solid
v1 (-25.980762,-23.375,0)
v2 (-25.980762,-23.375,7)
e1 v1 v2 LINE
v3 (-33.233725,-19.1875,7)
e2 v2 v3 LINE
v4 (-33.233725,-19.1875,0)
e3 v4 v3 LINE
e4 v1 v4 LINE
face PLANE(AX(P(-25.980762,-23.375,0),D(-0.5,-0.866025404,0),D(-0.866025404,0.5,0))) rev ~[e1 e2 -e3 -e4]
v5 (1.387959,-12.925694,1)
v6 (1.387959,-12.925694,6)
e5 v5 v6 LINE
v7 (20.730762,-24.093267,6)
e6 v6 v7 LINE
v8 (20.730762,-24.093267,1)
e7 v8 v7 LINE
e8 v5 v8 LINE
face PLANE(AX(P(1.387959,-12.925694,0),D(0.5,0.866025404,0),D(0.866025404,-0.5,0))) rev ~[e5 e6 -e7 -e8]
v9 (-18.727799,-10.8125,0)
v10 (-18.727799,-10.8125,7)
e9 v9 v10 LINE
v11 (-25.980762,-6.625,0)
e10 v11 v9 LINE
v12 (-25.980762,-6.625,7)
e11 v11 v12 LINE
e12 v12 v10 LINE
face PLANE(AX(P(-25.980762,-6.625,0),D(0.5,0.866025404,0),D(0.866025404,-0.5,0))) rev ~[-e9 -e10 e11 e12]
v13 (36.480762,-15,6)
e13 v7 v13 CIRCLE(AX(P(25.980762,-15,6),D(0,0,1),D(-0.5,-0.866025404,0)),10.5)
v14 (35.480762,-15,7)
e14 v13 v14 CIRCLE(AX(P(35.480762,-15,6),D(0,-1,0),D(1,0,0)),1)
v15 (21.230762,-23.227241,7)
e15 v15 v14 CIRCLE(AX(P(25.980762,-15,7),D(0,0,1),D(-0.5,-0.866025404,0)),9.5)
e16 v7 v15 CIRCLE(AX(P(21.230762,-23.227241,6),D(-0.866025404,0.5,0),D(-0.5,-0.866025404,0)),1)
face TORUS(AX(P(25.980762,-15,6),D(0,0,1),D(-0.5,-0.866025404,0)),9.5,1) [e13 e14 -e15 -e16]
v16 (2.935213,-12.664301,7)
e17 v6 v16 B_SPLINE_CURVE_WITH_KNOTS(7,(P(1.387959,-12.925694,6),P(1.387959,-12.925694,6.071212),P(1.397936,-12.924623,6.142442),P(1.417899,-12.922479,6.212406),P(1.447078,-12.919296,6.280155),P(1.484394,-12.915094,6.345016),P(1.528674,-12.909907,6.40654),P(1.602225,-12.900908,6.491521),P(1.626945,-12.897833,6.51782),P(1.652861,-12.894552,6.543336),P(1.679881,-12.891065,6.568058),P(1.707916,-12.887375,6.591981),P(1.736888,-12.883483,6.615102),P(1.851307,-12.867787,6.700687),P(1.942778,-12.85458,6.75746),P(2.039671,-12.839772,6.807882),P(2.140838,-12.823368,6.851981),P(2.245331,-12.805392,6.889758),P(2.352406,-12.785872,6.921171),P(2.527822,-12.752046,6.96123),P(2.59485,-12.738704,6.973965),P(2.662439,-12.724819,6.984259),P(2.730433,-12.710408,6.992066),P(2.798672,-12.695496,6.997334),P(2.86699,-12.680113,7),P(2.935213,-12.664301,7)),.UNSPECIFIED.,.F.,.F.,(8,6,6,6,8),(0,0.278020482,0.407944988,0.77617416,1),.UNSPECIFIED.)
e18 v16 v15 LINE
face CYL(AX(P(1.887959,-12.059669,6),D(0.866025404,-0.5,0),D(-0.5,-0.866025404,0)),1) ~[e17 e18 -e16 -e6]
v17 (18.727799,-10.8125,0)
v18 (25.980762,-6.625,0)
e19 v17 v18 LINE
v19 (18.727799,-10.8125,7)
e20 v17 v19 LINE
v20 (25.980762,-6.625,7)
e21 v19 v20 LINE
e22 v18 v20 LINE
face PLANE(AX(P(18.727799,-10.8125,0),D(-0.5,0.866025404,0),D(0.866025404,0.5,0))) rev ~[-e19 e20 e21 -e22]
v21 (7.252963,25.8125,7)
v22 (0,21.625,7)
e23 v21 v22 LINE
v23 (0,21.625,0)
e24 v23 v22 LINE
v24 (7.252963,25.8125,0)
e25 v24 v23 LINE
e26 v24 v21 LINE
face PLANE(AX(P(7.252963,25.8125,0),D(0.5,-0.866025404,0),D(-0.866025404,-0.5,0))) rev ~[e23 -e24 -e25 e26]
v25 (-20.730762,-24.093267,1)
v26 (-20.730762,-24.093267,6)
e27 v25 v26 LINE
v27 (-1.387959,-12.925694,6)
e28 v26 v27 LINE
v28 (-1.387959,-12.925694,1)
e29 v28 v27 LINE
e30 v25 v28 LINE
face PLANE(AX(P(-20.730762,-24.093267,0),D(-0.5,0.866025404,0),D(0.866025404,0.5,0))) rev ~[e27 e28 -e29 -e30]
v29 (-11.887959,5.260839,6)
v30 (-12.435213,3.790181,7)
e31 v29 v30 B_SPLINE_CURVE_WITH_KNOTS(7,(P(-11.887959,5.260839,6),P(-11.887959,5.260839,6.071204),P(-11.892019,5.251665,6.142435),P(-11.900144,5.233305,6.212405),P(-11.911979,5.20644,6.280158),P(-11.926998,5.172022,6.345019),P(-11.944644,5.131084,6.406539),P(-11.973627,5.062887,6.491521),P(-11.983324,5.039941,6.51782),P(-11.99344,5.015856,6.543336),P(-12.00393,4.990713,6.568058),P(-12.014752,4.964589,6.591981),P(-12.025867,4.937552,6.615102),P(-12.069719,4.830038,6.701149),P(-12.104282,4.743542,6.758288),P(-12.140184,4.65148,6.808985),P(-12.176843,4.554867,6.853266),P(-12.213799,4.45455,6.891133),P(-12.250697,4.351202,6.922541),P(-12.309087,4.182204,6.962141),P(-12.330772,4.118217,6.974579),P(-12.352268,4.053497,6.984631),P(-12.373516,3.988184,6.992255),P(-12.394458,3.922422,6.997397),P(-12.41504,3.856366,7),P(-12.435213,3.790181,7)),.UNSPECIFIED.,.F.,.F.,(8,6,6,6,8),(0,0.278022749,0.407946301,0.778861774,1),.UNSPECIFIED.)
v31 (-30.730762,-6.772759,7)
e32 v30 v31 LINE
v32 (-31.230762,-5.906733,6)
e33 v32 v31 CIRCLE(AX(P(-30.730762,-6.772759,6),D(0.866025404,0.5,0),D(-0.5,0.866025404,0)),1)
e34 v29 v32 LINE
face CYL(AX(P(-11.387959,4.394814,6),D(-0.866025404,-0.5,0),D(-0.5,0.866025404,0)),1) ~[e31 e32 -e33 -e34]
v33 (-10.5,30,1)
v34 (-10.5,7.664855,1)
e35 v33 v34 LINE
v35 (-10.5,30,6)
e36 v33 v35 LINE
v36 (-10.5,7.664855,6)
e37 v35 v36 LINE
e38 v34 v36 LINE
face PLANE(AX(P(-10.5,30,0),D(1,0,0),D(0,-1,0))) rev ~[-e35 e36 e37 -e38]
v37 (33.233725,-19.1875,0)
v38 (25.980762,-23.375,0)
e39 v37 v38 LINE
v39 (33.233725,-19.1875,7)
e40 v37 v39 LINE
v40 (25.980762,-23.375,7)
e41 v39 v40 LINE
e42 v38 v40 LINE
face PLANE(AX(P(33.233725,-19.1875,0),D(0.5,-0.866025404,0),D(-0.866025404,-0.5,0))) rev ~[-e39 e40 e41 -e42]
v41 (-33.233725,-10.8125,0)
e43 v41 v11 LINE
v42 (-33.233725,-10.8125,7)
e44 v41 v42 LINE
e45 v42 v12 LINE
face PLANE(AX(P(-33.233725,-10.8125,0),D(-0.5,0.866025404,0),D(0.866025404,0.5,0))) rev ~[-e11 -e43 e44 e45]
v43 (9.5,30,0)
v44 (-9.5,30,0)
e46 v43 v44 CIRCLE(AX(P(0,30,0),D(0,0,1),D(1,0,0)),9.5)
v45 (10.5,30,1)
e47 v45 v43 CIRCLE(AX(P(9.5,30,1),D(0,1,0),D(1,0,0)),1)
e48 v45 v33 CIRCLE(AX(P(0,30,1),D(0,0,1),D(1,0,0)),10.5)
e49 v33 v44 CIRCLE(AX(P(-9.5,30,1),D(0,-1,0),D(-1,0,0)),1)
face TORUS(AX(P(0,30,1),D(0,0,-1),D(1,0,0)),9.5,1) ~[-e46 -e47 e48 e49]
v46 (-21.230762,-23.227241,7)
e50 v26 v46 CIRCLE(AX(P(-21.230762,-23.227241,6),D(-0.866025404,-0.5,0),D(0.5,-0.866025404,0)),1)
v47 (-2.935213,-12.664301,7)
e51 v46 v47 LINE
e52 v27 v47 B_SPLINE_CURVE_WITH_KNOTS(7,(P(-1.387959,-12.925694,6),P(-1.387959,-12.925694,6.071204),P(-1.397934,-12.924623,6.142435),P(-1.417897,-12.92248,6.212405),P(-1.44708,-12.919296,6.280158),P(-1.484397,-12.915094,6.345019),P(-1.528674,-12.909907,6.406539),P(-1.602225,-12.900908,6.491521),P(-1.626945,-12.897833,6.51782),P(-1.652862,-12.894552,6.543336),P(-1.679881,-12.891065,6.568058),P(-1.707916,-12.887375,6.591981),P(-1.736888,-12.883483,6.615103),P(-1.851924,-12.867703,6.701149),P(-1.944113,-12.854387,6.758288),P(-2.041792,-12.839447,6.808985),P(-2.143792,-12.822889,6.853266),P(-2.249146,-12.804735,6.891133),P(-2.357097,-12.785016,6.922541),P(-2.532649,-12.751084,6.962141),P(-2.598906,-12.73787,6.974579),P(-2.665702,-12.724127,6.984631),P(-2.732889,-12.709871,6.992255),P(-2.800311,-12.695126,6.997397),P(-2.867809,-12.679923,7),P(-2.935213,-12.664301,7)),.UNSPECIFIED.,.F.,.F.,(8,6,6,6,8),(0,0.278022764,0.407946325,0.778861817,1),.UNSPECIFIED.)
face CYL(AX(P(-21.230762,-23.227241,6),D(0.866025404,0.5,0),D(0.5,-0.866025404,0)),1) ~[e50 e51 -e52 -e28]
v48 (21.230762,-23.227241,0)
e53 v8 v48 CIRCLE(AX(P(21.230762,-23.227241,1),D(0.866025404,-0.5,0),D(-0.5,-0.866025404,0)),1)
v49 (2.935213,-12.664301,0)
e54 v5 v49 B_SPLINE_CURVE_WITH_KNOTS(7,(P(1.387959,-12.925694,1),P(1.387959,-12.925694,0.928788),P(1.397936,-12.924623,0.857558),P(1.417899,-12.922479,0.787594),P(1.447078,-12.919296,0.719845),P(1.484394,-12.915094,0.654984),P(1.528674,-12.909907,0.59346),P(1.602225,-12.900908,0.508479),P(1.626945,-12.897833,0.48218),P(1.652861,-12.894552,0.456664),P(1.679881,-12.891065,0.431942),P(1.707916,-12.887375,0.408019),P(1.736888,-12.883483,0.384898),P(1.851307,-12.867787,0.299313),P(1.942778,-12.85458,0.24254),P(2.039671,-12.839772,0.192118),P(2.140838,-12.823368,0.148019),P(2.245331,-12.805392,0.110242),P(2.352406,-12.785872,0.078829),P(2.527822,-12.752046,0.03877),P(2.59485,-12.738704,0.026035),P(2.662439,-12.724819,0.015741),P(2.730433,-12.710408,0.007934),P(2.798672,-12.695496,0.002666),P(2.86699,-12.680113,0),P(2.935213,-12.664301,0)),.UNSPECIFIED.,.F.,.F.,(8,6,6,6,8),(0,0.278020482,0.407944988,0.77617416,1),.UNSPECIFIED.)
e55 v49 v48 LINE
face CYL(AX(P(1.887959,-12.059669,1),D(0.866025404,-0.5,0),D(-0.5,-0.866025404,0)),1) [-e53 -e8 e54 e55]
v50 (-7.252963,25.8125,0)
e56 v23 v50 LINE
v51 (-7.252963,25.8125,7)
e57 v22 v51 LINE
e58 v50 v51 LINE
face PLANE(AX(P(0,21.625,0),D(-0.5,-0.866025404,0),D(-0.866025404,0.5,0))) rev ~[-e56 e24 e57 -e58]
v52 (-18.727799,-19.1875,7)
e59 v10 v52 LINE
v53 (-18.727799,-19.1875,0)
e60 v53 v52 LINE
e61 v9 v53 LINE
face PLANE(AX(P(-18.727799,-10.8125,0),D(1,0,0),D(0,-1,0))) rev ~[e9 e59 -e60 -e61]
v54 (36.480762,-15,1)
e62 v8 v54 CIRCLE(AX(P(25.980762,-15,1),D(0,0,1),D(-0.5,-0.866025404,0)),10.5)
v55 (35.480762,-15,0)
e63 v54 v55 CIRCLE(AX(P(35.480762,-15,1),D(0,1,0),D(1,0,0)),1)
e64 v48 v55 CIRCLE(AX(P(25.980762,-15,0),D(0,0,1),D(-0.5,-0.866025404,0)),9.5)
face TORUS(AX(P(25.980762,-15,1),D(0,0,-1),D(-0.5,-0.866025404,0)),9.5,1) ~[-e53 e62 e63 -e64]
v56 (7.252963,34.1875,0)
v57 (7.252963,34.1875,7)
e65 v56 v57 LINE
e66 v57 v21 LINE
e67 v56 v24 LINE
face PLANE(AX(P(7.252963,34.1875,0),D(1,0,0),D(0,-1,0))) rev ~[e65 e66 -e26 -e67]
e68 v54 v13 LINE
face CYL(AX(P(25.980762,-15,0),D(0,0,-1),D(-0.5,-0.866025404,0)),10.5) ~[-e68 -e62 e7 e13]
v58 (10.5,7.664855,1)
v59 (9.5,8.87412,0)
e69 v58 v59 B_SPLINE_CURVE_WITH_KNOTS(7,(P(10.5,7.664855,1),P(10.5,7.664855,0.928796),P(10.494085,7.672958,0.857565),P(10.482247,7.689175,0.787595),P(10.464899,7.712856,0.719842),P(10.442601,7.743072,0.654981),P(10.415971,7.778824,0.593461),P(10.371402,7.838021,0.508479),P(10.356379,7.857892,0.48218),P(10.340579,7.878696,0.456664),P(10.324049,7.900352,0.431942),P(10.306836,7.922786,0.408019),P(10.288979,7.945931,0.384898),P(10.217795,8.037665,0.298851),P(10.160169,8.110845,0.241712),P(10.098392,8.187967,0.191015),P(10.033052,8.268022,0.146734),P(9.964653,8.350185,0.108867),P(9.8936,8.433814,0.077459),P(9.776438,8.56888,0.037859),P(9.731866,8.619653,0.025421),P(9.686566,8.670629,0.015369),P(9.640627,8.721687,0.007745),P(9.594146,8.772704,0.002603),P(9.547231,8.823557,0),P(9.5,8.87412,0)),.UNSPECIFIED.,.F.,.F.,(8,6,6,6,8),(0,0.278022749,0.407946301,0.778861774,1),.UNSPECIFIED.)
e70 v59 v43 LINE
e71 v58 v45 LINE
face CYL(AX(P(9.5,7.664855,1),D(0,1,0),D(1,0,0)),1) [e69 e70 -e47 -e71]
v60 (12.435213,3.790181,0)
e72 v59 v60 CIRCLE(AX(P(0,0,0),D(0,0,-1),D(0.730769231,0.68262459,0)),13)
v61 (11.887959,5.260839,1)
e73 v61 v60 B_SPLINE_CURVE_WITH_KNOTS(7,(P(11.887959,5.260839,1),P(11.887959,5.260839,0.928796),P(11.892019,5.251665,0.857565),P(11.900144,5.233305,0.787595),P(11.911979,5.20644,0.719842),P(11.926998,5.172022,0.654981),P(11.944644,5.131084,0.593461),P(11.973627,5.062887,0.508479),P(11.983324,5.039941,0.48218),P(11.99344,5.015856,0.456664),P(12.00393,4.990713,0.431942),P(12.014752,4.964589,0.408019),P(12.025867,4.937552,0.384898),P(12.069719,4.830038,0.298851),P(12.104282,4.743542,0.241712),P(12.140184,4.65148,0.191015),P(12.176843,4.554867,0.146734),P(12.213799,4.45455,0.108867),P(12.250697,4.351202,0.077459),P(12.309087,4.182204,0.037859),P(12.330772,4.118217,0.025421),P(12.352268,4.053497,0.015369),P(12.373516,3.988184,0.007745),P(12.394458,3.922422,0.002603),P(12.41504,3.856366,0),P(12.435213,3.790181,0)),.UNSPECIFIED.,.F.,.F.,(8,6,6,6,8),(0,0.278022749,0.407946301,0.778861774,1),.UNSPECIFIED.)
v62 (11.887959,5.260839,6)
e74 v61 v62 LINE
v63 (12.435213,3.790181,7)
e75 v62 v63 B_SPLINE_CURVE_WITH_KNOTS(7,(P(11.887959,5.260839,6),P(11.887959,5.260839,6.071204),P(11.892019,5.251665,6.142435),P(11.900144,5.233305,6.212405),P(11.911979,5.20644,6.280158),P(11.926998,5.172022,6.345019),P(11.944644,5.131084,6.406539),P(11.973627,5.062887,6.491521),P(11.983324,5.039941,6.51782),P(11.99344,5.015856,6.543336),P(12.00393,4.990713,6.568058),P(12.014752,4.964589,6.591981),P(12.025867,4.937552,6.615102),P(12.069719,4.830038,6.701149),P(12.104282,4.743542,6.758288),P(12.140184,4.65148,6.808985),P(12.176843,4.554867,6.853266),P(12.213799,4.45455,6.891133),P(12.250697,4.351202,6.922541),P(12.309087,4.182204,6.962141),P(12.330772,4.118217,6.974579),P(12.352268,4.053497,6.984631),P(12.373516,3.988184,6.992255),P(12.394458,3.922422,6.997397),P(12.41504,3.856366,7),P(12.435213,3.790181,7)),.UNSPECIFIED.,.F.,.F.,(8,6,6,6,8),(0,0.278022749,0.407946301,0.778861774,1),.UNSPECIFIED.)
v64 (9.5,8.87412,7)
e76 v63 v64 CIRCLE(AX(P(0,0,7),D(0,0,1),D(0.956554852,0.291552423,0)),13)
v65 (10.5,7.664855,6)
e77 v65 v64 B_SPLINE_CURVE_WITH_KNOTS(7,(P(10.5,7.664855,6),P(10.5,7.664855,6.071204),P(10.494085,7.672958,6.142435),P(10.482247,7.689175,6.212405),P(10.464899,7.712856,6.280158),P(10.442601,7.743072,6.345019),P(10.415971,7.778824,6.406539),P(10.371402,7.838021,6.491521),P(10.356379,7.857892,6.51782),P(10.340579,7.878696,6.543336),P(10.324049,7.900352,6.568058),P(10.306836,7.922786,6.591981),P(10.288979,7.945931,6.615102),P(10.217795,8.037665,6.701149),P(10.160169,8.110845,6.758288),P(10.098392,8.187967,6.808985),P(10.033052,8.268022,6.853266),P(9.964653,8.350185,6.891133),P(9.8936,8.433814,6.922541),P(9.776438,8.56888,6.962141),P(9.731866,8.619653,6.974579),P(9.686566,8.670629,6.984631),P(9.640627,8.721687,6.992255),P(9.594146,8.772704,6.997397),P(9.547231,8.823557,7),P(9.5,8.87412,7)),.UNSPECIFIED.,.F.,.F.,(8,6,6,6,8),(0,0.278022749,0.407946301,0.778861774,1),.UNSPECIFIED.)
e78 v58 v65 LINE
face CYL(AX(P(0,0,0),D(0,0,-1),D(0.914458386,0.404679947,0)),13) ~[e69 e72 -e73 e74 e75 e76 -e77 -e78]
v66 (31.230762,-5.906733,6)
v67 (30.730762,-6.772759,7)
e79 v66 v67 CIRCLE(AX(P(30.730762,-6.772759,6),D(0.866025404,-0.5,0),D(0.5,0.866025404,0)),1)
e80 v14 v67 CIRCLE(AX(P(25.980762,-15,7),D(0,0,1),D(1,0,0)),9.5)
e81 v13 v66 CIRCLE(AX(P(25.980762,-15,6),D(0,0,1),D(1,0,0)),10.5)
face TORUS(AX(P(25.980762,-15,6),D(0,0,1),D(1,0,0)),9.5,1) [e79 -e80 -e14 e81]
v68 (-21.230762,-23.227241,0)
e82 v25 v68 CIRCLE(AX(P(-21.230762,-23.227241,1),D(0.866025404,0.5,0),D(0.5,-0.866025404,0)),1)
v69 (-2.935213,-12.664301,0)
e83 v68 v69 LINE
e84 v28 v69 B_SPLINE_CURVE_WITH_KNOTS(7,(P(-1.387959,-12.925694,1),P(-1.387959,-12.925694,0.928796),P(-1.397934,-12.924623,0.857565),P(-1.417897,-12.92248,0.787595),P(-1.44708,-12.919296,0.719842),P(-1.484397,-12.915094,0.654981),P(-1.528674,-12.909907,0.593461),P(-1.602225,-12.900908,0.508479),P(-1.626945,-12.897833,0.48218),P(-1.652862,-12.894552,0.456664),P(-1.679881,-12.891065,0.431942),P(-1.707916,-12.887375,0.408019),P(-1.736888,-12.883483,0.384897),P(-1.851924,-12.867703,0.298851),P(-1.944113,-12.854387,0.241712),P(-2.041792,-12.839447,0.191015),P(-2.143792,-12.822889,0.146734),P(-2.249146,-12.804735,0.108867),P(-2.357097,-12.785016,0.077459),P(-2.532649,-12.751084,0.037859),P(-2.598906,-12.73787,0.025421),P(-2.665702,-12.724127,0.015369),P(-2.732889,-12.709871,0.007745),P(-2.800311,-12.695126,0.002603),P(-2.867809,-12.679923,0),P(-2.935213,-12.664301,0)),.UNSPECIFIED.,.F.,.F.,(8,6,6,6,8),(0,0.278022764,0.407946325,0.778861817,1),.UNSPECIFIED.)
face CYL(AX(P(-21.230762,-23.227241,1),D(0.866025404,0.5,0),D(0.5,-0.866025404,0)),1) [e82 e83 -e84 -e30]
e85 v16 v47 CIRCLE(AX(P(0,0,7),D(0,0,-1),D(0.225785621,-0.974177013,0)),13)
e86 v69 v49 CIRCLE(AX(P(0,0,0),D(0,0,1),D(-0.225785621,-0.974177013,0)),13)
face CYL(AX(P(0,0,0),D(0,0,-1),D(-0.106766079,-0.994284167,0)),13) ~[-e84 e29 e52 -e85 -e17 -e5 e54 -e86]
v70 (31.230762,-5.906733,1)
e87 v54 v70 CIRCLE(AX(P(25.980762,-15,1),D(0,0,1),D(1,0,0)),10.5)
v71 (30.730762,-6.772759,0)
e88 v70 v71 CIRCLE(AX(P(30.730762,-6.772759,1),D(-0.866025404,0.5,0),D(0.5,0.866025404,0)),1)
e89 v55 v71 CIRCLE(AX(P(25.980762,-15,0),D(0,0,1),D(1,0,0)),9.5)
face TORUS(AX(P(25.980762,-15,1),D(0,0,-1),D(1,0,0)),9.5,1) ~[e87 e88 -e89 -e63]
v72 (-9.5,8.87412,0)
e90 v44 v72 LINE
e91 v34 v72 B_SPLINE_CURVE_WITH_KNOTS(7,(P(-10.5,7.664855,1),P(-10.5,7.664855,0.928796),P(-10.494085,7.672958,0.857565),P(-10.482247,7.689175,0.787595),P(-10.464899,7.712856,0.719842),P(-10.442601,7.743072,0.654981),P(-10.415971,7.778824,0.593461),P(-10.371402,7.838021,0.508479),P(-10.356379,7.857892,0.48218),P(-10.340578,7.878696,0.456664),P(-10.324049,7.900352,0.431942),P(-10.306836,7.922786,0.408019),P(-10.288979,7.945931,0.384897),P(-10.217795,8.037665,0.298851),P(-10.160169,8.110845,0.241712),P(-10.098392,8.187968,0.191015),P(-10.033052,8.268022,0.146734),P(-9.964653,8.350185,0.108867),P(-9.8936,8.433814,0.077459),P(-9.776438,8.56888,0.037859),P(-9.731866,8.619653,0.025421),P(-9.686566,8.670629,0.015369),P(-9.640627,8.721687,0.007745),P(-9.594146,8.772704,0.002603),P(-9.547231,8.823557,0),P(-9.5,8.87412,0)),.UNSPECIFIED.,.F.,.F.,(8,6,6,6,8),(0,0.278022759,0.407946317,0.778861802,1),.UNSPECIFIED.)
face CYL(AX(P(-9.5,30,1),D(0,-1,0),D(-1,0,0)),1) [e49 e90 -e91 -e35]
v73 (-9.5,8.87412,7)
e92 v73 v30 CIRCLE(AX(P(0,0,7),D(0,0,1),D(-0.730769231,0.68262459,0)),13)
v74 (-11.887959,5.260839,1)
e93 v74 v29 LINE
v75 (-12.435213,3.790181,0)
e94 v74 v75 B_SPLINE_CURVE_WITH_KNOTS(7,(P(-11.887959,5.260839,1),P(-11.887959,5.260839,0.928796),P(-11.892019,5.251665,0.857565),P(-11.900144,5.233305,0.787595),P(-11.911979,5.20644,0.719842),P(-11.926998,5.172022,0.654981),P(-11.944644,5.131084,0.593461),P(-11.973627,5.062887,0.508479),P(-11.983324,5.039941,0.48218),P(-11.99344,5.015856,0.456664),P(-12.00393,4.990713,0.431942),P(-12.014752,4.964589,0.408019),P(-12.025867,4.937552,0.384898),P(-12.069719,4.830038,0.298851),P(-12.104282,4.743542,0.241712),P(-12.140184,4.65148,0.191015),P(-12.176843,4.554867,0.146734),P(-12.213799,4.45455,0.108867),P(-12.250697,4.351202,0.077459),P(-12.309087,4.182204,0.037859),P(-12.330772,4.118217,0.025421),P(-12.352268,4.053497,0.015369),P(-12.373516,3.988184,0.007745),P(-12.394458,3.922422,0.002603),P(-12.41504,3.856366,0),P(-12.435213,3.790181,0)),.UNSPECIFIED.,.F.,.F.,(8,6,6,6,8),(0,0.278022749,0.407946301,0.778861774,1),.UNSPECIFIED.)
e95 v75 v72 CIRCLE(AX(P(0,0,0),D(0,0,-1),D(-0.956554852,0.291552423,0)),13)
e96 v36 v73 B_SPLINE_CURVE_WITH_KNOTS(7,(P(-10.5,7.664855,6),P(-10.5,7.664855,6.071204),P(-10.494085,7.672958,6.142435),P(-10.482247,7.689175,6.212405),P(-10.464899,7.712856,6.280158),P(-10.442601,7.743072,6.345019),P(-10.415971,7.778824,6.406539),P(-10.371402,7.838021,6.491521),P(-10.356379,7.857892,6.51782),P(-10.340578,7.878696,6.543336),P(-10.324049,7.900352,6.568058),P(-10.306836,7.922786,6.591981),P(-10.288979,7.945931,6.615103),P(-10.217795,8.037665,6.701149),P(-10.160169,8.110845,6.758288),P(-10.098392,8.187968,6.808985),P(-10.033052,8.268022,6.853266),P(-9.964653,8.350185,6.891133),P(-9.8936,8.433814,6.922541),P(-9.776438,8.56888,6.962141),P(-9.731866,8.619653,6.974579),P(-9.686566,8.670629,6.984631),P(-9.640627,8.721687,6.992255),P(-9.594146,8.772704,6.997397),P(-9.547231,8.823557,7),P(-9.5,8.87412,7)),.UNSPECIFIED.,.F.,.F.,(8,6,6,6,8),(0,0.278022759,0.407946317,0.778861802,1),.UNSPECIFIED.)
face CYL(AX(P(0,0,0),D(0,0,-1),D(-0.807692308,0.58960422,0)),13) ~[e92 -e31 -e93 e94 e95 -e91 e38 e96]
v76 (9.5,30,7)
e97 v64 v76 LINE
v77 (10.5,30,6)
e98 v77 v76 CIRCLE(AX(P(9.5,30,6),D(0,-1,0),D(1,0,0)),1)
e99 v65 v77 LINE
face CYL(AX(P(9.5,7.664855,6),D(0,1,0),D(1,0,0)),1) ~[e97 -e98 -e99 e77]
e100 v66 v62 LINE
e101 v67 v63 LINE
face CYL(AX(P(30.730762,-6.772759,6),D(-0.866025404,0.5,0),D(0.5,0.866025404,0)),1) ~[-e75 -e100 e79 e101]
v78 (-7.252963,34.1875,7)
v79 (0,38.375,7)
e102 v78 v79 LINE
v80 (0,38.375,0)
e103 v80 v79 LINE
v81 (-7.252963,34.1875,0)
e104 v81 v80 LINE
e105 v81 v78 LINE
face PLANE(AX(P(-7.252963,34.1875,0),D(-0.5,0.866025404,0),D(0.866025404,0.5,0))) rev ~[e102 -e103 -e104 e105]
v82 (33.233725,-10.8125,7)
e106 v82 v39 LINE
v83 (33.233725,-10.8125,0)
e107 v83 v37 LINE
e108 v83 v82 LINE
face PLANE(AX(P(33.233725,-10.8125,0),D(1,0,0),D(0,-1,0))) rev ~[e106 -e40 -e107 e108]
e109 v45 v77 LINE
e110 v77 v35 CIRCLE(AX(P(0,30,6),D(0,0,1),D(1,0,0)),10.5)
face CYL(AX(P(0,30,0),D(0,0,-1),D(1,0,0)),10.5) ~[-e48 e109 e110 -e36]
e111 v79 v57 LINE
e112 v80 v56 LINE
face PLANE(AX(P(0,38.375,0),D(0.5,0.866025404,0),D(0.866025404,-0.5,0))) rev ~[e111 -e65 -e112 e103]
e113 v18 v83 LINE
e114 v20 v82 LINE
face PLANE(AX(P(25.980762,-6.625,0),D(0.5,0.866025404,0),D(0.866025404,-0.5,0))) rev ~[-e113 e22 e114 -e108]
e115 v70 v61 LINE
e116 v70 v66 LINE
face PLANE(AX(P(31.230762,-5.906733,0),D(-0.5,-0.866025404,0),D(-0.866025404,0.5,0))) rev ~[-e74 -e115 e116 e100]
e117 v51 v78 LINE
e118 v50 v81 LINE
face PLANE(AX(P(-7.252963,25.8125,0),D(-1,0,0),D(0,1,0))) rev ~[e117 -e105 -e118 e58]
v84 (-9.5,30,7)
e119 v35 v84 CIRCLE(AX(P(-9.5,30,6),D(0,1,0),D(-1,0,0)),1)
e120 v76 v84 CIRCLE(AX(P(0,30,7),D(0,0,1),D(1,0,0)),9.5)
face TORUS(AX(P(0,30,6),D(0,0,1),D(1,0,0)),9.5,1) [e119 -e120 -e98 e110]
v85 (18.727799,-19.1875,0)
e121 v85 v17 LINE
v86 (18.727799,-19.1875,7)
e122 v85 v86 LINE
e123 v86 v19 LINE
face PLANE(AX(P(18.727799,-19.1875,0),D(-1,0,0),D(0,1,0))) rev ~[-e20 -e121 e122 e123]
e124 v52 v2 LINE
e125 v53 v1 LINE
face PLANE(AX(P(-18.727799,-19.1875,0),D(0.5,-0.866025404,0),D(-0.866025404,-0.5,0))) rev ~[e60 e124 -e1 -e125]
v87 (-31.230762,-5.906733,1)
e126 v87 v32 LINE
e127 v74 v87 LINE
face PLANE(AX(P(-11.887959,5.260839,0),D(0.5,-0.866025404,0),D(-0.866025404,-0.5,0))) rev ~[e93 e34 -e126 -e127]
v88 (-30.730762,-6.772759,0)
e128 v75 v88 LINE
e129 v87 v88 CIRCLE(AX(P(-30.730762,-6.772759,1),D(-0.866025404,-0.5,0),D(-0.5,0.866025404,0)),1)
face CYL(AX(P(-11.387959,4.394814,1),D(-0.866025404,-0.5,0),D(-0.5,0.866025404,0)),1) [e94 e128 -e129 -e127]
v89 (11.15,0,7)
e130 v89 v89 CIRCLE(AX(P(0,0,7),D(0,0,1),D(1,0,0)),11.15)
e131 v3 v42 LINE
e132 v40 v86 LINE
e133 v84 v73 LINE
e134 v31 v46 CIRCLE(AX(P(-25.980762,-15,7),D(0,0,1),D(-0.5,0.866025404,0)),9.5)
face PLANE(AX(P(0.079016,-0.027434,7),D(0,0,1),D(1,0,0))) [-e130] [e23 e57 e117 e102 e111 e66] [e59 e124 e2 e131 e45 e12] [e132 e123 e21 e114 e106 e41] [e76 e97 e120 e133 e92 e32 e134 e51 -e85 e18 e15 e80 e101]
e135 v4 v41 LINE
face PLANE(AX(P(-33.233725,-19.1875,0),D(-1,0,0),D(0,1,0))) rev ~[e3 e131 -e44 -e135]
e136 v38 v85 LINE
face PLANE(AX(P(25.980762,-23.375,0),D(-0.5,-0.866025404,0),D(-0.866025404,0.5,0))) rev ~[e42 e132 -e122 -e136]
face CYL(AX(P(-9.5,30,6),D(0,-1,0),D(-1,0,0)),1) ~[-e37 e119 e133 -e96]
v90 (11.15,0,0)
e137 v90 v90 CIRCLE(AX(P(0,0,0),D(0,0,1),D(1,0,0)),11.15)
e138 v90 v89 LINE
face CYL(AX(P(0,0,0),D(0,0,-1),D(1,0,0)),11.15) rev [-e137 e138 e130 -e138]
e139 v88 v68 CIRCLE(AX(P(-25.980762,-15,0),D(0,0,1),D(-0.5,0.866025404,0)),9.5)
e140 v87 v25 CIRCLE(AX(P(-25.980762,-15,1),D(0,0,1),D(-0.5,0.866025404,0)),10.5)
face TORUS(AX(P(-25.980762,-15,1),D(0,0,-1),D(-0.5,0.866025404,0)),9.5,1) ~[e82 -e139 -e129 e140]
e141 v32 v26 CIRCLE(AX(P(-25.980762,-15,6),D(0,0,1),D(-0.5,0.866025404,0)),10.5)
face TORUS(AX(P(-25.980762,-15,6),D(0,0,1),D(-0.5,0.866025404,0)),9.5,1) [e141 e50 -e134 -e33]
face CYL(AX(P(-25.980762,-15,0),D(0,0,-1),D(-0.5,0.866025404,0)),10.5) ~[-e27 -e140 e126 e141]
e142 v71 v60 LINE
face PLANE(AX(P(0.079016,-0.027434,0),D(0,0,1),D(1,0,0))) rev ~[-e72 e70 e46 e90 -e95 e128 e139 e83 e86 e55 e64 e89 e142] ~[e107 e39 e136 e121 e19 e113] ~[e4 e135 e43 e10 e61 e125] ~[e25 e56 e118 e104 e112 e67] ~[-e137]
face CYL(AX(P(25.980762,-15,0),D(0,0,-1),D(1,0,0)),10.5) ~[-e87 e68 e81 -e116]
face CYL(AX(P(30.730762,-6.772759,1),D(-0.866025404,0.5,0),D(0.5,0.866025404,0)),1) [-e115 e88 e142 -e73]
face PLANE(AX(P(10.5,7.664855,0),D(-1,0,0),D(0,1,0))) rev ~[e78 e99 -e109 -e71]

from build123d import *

# Parameters (mm, degrees)
F0_R     = 11.15
F1_DEPTH = 7
F2_R     = 1


with BuildPart() as f1:
    # F0 (on Top) → F1 (new body)
    with BuildSketch(Plane.XY):
        with BuildLine():
            ThreePointArc((1.3879590237, -12.9256941689), (9.6706635581, -8.6878228772), (13, 0))
            ThreePointArc((13, 0), (12.7189517514, 2.6885435362), (11.8879590237, 5.2608393105))
            ThreePointArc((11.8879590237, 5.2608393105), (11.2583302492, 6.5), (10.5, 7.6648548584))
            ThreePointArc((10.5, 7.6648548584), (0, 13), (-10.5, 7.6648548584))
            ThreePointArc((-10.5, 7.6648548584), (-11.2583302492, 6.5), (-11.8879590237, 5.2608393105))
            ThreePointArc((-11.8879590237, 5.2608393105), (-11.2583302492, -6.5), (-1.3879590237, -12.9256941689))
            ThreePointArc((-1.3879590237, -12.9256941689), (0, -13), (1.3879590237, -12.9256941689))
        make_face()
        Circle(F0_R, mode=Mode.SUBTRACT)
        with BuildLine():
            ThreePointArc((11.8879590237, 5.2608393105), (12.7189517514, 2.6885435362), (13, 0))
            ThreePointArc((13, 0), (9.6706635581, -8.6878228772), (1.3879590237, -12.9256941689))
            Line((1.3879590237, -12.9256941689), (20.7307621135, -24.0932667397))
            ThreePointArc((20.7307621135, -24.0932667397), (16.8874953738, -9.75), (31.2307621135, -5.9067332603))
            Line((31.2307621135, -5.9067332603), (11.8879590237, 5.2608393105))
        make_face()
        with BuildLine():
            ThreePointArc((-10.5, 7.6648548584), (0, 13), (10.5, 7.6648548584))
            Line((10.5, 7.6648548584), (10.5, 30))
            ThreePointArc((10.5, 30), (0, 19.5), (-10.5, 30))
            Line((-10.5, 30), (-10.5, 7.6648548584))
        make_face()
        with BuildLine():
            ThreePointArc((36.4807621135, -15), (35.0740288533, -9.75), (31.2307621135, -5.9067332603))
            ThreePointArc((31.2307621135, -5.9067332603), (16.8874953738, -9.75), (20.7307621135, -24.0932667397))
            ThreePointArc((20.7307621135, -24.0932667397), (31.2307621135, -24.0932667397), (36.4807621135, -15))
        make_face()
        Polygon((33.2337248702, -10.8125), (33.2337248702, -19.1875), (25.9807621135, -23.375), (18.7277993568, -19.1875), (18.7277993568, -10.8125), (25.9807621135, -6.625), align=None, mode=Mode.SUBTRACT)
        with BuildLine():
            Line((-20.7307621135, -24.0932667397), (-1.3879590237, -12.9256941689))
            ThreePointArc((-1.3879590237, -12.9256941689), (-11.2583302492, -6.5), (-11.8879590237, 5.2608393105))
            Line((-11.8879590237, 5.2608393105), (-31.2307621135, -5.9067332603))
            ThreePointArc((-31.2307621135, -5.9067332603), (-20.7307621135, -5.9067332603), (-15.4807621135, -15))
            ThreePointArc((-15.4807621135, -15), (-16.8874953738, -20.25), (-20.7307621135, -24.0932667397))
        make_face()
        with BuildLine():
            ThreePointArc((-10.5, 30), (0, 19.5), (10.5, 30))
            ThreePointArc((10.5, 30), (0, 40.5), (-10.5, 30))
        make_face()
        Polygon((0, 38.375), (7.2529627567, 34.1875), (7.2529627567, 25.8125), (0, 21.625), (-7.2529627567, 25.8125), (-7.2529627567, 34.1875), align=None, mode=Mode.SUBTRACT)
        with BuildLine():
            ThreePointArc((-31.2307621135, -5.9067332603), (-35.0740288533, -20.25), (-20.7307621135, -24.0932667397))
            ThreePointArc((-20.7307621135, -24.0932667397), (-16.8874953738, -20.25), (-15.4807621135, -15))
            ThreePointArc((-15.4807621135, -15), (-20.7307621135, -5.9067332603), (-31.2307621135, -5.9067332603))
        make_face()
        Polygon((-25.9807621135, -23.375), (-33.2337248702, -19.1875), (-33.2337248702, -10.8125), (-25.9807621135, -6.625), (-18.7277993568, -10.8125), (-18.7277993568, -19.1875), align=None, mode=Mode.SUBTRACT)
    extrude(amount=F1_DEPTH)

    # F2
    f2_edges = [f1.edges().sort_by_distance(p)[0] for p in [
        (-21.559361, -0.322947, 7),
        (11.059361, -18.50948, 7),
        (21.559361, -0.322947, 7),
        (10.5, 18.832427, 7),
        (-10.5, 18.832427, 7),
        (-11.059361, -18.50948, 7),
        (11.059361, -18.50948, 0),
        (-11.059361, -18.50948, 0),
        (-10.5, 18.832427, 0),
    ]]
    fillet(f2_edges, radius=F2_R)


solid = f1.part
